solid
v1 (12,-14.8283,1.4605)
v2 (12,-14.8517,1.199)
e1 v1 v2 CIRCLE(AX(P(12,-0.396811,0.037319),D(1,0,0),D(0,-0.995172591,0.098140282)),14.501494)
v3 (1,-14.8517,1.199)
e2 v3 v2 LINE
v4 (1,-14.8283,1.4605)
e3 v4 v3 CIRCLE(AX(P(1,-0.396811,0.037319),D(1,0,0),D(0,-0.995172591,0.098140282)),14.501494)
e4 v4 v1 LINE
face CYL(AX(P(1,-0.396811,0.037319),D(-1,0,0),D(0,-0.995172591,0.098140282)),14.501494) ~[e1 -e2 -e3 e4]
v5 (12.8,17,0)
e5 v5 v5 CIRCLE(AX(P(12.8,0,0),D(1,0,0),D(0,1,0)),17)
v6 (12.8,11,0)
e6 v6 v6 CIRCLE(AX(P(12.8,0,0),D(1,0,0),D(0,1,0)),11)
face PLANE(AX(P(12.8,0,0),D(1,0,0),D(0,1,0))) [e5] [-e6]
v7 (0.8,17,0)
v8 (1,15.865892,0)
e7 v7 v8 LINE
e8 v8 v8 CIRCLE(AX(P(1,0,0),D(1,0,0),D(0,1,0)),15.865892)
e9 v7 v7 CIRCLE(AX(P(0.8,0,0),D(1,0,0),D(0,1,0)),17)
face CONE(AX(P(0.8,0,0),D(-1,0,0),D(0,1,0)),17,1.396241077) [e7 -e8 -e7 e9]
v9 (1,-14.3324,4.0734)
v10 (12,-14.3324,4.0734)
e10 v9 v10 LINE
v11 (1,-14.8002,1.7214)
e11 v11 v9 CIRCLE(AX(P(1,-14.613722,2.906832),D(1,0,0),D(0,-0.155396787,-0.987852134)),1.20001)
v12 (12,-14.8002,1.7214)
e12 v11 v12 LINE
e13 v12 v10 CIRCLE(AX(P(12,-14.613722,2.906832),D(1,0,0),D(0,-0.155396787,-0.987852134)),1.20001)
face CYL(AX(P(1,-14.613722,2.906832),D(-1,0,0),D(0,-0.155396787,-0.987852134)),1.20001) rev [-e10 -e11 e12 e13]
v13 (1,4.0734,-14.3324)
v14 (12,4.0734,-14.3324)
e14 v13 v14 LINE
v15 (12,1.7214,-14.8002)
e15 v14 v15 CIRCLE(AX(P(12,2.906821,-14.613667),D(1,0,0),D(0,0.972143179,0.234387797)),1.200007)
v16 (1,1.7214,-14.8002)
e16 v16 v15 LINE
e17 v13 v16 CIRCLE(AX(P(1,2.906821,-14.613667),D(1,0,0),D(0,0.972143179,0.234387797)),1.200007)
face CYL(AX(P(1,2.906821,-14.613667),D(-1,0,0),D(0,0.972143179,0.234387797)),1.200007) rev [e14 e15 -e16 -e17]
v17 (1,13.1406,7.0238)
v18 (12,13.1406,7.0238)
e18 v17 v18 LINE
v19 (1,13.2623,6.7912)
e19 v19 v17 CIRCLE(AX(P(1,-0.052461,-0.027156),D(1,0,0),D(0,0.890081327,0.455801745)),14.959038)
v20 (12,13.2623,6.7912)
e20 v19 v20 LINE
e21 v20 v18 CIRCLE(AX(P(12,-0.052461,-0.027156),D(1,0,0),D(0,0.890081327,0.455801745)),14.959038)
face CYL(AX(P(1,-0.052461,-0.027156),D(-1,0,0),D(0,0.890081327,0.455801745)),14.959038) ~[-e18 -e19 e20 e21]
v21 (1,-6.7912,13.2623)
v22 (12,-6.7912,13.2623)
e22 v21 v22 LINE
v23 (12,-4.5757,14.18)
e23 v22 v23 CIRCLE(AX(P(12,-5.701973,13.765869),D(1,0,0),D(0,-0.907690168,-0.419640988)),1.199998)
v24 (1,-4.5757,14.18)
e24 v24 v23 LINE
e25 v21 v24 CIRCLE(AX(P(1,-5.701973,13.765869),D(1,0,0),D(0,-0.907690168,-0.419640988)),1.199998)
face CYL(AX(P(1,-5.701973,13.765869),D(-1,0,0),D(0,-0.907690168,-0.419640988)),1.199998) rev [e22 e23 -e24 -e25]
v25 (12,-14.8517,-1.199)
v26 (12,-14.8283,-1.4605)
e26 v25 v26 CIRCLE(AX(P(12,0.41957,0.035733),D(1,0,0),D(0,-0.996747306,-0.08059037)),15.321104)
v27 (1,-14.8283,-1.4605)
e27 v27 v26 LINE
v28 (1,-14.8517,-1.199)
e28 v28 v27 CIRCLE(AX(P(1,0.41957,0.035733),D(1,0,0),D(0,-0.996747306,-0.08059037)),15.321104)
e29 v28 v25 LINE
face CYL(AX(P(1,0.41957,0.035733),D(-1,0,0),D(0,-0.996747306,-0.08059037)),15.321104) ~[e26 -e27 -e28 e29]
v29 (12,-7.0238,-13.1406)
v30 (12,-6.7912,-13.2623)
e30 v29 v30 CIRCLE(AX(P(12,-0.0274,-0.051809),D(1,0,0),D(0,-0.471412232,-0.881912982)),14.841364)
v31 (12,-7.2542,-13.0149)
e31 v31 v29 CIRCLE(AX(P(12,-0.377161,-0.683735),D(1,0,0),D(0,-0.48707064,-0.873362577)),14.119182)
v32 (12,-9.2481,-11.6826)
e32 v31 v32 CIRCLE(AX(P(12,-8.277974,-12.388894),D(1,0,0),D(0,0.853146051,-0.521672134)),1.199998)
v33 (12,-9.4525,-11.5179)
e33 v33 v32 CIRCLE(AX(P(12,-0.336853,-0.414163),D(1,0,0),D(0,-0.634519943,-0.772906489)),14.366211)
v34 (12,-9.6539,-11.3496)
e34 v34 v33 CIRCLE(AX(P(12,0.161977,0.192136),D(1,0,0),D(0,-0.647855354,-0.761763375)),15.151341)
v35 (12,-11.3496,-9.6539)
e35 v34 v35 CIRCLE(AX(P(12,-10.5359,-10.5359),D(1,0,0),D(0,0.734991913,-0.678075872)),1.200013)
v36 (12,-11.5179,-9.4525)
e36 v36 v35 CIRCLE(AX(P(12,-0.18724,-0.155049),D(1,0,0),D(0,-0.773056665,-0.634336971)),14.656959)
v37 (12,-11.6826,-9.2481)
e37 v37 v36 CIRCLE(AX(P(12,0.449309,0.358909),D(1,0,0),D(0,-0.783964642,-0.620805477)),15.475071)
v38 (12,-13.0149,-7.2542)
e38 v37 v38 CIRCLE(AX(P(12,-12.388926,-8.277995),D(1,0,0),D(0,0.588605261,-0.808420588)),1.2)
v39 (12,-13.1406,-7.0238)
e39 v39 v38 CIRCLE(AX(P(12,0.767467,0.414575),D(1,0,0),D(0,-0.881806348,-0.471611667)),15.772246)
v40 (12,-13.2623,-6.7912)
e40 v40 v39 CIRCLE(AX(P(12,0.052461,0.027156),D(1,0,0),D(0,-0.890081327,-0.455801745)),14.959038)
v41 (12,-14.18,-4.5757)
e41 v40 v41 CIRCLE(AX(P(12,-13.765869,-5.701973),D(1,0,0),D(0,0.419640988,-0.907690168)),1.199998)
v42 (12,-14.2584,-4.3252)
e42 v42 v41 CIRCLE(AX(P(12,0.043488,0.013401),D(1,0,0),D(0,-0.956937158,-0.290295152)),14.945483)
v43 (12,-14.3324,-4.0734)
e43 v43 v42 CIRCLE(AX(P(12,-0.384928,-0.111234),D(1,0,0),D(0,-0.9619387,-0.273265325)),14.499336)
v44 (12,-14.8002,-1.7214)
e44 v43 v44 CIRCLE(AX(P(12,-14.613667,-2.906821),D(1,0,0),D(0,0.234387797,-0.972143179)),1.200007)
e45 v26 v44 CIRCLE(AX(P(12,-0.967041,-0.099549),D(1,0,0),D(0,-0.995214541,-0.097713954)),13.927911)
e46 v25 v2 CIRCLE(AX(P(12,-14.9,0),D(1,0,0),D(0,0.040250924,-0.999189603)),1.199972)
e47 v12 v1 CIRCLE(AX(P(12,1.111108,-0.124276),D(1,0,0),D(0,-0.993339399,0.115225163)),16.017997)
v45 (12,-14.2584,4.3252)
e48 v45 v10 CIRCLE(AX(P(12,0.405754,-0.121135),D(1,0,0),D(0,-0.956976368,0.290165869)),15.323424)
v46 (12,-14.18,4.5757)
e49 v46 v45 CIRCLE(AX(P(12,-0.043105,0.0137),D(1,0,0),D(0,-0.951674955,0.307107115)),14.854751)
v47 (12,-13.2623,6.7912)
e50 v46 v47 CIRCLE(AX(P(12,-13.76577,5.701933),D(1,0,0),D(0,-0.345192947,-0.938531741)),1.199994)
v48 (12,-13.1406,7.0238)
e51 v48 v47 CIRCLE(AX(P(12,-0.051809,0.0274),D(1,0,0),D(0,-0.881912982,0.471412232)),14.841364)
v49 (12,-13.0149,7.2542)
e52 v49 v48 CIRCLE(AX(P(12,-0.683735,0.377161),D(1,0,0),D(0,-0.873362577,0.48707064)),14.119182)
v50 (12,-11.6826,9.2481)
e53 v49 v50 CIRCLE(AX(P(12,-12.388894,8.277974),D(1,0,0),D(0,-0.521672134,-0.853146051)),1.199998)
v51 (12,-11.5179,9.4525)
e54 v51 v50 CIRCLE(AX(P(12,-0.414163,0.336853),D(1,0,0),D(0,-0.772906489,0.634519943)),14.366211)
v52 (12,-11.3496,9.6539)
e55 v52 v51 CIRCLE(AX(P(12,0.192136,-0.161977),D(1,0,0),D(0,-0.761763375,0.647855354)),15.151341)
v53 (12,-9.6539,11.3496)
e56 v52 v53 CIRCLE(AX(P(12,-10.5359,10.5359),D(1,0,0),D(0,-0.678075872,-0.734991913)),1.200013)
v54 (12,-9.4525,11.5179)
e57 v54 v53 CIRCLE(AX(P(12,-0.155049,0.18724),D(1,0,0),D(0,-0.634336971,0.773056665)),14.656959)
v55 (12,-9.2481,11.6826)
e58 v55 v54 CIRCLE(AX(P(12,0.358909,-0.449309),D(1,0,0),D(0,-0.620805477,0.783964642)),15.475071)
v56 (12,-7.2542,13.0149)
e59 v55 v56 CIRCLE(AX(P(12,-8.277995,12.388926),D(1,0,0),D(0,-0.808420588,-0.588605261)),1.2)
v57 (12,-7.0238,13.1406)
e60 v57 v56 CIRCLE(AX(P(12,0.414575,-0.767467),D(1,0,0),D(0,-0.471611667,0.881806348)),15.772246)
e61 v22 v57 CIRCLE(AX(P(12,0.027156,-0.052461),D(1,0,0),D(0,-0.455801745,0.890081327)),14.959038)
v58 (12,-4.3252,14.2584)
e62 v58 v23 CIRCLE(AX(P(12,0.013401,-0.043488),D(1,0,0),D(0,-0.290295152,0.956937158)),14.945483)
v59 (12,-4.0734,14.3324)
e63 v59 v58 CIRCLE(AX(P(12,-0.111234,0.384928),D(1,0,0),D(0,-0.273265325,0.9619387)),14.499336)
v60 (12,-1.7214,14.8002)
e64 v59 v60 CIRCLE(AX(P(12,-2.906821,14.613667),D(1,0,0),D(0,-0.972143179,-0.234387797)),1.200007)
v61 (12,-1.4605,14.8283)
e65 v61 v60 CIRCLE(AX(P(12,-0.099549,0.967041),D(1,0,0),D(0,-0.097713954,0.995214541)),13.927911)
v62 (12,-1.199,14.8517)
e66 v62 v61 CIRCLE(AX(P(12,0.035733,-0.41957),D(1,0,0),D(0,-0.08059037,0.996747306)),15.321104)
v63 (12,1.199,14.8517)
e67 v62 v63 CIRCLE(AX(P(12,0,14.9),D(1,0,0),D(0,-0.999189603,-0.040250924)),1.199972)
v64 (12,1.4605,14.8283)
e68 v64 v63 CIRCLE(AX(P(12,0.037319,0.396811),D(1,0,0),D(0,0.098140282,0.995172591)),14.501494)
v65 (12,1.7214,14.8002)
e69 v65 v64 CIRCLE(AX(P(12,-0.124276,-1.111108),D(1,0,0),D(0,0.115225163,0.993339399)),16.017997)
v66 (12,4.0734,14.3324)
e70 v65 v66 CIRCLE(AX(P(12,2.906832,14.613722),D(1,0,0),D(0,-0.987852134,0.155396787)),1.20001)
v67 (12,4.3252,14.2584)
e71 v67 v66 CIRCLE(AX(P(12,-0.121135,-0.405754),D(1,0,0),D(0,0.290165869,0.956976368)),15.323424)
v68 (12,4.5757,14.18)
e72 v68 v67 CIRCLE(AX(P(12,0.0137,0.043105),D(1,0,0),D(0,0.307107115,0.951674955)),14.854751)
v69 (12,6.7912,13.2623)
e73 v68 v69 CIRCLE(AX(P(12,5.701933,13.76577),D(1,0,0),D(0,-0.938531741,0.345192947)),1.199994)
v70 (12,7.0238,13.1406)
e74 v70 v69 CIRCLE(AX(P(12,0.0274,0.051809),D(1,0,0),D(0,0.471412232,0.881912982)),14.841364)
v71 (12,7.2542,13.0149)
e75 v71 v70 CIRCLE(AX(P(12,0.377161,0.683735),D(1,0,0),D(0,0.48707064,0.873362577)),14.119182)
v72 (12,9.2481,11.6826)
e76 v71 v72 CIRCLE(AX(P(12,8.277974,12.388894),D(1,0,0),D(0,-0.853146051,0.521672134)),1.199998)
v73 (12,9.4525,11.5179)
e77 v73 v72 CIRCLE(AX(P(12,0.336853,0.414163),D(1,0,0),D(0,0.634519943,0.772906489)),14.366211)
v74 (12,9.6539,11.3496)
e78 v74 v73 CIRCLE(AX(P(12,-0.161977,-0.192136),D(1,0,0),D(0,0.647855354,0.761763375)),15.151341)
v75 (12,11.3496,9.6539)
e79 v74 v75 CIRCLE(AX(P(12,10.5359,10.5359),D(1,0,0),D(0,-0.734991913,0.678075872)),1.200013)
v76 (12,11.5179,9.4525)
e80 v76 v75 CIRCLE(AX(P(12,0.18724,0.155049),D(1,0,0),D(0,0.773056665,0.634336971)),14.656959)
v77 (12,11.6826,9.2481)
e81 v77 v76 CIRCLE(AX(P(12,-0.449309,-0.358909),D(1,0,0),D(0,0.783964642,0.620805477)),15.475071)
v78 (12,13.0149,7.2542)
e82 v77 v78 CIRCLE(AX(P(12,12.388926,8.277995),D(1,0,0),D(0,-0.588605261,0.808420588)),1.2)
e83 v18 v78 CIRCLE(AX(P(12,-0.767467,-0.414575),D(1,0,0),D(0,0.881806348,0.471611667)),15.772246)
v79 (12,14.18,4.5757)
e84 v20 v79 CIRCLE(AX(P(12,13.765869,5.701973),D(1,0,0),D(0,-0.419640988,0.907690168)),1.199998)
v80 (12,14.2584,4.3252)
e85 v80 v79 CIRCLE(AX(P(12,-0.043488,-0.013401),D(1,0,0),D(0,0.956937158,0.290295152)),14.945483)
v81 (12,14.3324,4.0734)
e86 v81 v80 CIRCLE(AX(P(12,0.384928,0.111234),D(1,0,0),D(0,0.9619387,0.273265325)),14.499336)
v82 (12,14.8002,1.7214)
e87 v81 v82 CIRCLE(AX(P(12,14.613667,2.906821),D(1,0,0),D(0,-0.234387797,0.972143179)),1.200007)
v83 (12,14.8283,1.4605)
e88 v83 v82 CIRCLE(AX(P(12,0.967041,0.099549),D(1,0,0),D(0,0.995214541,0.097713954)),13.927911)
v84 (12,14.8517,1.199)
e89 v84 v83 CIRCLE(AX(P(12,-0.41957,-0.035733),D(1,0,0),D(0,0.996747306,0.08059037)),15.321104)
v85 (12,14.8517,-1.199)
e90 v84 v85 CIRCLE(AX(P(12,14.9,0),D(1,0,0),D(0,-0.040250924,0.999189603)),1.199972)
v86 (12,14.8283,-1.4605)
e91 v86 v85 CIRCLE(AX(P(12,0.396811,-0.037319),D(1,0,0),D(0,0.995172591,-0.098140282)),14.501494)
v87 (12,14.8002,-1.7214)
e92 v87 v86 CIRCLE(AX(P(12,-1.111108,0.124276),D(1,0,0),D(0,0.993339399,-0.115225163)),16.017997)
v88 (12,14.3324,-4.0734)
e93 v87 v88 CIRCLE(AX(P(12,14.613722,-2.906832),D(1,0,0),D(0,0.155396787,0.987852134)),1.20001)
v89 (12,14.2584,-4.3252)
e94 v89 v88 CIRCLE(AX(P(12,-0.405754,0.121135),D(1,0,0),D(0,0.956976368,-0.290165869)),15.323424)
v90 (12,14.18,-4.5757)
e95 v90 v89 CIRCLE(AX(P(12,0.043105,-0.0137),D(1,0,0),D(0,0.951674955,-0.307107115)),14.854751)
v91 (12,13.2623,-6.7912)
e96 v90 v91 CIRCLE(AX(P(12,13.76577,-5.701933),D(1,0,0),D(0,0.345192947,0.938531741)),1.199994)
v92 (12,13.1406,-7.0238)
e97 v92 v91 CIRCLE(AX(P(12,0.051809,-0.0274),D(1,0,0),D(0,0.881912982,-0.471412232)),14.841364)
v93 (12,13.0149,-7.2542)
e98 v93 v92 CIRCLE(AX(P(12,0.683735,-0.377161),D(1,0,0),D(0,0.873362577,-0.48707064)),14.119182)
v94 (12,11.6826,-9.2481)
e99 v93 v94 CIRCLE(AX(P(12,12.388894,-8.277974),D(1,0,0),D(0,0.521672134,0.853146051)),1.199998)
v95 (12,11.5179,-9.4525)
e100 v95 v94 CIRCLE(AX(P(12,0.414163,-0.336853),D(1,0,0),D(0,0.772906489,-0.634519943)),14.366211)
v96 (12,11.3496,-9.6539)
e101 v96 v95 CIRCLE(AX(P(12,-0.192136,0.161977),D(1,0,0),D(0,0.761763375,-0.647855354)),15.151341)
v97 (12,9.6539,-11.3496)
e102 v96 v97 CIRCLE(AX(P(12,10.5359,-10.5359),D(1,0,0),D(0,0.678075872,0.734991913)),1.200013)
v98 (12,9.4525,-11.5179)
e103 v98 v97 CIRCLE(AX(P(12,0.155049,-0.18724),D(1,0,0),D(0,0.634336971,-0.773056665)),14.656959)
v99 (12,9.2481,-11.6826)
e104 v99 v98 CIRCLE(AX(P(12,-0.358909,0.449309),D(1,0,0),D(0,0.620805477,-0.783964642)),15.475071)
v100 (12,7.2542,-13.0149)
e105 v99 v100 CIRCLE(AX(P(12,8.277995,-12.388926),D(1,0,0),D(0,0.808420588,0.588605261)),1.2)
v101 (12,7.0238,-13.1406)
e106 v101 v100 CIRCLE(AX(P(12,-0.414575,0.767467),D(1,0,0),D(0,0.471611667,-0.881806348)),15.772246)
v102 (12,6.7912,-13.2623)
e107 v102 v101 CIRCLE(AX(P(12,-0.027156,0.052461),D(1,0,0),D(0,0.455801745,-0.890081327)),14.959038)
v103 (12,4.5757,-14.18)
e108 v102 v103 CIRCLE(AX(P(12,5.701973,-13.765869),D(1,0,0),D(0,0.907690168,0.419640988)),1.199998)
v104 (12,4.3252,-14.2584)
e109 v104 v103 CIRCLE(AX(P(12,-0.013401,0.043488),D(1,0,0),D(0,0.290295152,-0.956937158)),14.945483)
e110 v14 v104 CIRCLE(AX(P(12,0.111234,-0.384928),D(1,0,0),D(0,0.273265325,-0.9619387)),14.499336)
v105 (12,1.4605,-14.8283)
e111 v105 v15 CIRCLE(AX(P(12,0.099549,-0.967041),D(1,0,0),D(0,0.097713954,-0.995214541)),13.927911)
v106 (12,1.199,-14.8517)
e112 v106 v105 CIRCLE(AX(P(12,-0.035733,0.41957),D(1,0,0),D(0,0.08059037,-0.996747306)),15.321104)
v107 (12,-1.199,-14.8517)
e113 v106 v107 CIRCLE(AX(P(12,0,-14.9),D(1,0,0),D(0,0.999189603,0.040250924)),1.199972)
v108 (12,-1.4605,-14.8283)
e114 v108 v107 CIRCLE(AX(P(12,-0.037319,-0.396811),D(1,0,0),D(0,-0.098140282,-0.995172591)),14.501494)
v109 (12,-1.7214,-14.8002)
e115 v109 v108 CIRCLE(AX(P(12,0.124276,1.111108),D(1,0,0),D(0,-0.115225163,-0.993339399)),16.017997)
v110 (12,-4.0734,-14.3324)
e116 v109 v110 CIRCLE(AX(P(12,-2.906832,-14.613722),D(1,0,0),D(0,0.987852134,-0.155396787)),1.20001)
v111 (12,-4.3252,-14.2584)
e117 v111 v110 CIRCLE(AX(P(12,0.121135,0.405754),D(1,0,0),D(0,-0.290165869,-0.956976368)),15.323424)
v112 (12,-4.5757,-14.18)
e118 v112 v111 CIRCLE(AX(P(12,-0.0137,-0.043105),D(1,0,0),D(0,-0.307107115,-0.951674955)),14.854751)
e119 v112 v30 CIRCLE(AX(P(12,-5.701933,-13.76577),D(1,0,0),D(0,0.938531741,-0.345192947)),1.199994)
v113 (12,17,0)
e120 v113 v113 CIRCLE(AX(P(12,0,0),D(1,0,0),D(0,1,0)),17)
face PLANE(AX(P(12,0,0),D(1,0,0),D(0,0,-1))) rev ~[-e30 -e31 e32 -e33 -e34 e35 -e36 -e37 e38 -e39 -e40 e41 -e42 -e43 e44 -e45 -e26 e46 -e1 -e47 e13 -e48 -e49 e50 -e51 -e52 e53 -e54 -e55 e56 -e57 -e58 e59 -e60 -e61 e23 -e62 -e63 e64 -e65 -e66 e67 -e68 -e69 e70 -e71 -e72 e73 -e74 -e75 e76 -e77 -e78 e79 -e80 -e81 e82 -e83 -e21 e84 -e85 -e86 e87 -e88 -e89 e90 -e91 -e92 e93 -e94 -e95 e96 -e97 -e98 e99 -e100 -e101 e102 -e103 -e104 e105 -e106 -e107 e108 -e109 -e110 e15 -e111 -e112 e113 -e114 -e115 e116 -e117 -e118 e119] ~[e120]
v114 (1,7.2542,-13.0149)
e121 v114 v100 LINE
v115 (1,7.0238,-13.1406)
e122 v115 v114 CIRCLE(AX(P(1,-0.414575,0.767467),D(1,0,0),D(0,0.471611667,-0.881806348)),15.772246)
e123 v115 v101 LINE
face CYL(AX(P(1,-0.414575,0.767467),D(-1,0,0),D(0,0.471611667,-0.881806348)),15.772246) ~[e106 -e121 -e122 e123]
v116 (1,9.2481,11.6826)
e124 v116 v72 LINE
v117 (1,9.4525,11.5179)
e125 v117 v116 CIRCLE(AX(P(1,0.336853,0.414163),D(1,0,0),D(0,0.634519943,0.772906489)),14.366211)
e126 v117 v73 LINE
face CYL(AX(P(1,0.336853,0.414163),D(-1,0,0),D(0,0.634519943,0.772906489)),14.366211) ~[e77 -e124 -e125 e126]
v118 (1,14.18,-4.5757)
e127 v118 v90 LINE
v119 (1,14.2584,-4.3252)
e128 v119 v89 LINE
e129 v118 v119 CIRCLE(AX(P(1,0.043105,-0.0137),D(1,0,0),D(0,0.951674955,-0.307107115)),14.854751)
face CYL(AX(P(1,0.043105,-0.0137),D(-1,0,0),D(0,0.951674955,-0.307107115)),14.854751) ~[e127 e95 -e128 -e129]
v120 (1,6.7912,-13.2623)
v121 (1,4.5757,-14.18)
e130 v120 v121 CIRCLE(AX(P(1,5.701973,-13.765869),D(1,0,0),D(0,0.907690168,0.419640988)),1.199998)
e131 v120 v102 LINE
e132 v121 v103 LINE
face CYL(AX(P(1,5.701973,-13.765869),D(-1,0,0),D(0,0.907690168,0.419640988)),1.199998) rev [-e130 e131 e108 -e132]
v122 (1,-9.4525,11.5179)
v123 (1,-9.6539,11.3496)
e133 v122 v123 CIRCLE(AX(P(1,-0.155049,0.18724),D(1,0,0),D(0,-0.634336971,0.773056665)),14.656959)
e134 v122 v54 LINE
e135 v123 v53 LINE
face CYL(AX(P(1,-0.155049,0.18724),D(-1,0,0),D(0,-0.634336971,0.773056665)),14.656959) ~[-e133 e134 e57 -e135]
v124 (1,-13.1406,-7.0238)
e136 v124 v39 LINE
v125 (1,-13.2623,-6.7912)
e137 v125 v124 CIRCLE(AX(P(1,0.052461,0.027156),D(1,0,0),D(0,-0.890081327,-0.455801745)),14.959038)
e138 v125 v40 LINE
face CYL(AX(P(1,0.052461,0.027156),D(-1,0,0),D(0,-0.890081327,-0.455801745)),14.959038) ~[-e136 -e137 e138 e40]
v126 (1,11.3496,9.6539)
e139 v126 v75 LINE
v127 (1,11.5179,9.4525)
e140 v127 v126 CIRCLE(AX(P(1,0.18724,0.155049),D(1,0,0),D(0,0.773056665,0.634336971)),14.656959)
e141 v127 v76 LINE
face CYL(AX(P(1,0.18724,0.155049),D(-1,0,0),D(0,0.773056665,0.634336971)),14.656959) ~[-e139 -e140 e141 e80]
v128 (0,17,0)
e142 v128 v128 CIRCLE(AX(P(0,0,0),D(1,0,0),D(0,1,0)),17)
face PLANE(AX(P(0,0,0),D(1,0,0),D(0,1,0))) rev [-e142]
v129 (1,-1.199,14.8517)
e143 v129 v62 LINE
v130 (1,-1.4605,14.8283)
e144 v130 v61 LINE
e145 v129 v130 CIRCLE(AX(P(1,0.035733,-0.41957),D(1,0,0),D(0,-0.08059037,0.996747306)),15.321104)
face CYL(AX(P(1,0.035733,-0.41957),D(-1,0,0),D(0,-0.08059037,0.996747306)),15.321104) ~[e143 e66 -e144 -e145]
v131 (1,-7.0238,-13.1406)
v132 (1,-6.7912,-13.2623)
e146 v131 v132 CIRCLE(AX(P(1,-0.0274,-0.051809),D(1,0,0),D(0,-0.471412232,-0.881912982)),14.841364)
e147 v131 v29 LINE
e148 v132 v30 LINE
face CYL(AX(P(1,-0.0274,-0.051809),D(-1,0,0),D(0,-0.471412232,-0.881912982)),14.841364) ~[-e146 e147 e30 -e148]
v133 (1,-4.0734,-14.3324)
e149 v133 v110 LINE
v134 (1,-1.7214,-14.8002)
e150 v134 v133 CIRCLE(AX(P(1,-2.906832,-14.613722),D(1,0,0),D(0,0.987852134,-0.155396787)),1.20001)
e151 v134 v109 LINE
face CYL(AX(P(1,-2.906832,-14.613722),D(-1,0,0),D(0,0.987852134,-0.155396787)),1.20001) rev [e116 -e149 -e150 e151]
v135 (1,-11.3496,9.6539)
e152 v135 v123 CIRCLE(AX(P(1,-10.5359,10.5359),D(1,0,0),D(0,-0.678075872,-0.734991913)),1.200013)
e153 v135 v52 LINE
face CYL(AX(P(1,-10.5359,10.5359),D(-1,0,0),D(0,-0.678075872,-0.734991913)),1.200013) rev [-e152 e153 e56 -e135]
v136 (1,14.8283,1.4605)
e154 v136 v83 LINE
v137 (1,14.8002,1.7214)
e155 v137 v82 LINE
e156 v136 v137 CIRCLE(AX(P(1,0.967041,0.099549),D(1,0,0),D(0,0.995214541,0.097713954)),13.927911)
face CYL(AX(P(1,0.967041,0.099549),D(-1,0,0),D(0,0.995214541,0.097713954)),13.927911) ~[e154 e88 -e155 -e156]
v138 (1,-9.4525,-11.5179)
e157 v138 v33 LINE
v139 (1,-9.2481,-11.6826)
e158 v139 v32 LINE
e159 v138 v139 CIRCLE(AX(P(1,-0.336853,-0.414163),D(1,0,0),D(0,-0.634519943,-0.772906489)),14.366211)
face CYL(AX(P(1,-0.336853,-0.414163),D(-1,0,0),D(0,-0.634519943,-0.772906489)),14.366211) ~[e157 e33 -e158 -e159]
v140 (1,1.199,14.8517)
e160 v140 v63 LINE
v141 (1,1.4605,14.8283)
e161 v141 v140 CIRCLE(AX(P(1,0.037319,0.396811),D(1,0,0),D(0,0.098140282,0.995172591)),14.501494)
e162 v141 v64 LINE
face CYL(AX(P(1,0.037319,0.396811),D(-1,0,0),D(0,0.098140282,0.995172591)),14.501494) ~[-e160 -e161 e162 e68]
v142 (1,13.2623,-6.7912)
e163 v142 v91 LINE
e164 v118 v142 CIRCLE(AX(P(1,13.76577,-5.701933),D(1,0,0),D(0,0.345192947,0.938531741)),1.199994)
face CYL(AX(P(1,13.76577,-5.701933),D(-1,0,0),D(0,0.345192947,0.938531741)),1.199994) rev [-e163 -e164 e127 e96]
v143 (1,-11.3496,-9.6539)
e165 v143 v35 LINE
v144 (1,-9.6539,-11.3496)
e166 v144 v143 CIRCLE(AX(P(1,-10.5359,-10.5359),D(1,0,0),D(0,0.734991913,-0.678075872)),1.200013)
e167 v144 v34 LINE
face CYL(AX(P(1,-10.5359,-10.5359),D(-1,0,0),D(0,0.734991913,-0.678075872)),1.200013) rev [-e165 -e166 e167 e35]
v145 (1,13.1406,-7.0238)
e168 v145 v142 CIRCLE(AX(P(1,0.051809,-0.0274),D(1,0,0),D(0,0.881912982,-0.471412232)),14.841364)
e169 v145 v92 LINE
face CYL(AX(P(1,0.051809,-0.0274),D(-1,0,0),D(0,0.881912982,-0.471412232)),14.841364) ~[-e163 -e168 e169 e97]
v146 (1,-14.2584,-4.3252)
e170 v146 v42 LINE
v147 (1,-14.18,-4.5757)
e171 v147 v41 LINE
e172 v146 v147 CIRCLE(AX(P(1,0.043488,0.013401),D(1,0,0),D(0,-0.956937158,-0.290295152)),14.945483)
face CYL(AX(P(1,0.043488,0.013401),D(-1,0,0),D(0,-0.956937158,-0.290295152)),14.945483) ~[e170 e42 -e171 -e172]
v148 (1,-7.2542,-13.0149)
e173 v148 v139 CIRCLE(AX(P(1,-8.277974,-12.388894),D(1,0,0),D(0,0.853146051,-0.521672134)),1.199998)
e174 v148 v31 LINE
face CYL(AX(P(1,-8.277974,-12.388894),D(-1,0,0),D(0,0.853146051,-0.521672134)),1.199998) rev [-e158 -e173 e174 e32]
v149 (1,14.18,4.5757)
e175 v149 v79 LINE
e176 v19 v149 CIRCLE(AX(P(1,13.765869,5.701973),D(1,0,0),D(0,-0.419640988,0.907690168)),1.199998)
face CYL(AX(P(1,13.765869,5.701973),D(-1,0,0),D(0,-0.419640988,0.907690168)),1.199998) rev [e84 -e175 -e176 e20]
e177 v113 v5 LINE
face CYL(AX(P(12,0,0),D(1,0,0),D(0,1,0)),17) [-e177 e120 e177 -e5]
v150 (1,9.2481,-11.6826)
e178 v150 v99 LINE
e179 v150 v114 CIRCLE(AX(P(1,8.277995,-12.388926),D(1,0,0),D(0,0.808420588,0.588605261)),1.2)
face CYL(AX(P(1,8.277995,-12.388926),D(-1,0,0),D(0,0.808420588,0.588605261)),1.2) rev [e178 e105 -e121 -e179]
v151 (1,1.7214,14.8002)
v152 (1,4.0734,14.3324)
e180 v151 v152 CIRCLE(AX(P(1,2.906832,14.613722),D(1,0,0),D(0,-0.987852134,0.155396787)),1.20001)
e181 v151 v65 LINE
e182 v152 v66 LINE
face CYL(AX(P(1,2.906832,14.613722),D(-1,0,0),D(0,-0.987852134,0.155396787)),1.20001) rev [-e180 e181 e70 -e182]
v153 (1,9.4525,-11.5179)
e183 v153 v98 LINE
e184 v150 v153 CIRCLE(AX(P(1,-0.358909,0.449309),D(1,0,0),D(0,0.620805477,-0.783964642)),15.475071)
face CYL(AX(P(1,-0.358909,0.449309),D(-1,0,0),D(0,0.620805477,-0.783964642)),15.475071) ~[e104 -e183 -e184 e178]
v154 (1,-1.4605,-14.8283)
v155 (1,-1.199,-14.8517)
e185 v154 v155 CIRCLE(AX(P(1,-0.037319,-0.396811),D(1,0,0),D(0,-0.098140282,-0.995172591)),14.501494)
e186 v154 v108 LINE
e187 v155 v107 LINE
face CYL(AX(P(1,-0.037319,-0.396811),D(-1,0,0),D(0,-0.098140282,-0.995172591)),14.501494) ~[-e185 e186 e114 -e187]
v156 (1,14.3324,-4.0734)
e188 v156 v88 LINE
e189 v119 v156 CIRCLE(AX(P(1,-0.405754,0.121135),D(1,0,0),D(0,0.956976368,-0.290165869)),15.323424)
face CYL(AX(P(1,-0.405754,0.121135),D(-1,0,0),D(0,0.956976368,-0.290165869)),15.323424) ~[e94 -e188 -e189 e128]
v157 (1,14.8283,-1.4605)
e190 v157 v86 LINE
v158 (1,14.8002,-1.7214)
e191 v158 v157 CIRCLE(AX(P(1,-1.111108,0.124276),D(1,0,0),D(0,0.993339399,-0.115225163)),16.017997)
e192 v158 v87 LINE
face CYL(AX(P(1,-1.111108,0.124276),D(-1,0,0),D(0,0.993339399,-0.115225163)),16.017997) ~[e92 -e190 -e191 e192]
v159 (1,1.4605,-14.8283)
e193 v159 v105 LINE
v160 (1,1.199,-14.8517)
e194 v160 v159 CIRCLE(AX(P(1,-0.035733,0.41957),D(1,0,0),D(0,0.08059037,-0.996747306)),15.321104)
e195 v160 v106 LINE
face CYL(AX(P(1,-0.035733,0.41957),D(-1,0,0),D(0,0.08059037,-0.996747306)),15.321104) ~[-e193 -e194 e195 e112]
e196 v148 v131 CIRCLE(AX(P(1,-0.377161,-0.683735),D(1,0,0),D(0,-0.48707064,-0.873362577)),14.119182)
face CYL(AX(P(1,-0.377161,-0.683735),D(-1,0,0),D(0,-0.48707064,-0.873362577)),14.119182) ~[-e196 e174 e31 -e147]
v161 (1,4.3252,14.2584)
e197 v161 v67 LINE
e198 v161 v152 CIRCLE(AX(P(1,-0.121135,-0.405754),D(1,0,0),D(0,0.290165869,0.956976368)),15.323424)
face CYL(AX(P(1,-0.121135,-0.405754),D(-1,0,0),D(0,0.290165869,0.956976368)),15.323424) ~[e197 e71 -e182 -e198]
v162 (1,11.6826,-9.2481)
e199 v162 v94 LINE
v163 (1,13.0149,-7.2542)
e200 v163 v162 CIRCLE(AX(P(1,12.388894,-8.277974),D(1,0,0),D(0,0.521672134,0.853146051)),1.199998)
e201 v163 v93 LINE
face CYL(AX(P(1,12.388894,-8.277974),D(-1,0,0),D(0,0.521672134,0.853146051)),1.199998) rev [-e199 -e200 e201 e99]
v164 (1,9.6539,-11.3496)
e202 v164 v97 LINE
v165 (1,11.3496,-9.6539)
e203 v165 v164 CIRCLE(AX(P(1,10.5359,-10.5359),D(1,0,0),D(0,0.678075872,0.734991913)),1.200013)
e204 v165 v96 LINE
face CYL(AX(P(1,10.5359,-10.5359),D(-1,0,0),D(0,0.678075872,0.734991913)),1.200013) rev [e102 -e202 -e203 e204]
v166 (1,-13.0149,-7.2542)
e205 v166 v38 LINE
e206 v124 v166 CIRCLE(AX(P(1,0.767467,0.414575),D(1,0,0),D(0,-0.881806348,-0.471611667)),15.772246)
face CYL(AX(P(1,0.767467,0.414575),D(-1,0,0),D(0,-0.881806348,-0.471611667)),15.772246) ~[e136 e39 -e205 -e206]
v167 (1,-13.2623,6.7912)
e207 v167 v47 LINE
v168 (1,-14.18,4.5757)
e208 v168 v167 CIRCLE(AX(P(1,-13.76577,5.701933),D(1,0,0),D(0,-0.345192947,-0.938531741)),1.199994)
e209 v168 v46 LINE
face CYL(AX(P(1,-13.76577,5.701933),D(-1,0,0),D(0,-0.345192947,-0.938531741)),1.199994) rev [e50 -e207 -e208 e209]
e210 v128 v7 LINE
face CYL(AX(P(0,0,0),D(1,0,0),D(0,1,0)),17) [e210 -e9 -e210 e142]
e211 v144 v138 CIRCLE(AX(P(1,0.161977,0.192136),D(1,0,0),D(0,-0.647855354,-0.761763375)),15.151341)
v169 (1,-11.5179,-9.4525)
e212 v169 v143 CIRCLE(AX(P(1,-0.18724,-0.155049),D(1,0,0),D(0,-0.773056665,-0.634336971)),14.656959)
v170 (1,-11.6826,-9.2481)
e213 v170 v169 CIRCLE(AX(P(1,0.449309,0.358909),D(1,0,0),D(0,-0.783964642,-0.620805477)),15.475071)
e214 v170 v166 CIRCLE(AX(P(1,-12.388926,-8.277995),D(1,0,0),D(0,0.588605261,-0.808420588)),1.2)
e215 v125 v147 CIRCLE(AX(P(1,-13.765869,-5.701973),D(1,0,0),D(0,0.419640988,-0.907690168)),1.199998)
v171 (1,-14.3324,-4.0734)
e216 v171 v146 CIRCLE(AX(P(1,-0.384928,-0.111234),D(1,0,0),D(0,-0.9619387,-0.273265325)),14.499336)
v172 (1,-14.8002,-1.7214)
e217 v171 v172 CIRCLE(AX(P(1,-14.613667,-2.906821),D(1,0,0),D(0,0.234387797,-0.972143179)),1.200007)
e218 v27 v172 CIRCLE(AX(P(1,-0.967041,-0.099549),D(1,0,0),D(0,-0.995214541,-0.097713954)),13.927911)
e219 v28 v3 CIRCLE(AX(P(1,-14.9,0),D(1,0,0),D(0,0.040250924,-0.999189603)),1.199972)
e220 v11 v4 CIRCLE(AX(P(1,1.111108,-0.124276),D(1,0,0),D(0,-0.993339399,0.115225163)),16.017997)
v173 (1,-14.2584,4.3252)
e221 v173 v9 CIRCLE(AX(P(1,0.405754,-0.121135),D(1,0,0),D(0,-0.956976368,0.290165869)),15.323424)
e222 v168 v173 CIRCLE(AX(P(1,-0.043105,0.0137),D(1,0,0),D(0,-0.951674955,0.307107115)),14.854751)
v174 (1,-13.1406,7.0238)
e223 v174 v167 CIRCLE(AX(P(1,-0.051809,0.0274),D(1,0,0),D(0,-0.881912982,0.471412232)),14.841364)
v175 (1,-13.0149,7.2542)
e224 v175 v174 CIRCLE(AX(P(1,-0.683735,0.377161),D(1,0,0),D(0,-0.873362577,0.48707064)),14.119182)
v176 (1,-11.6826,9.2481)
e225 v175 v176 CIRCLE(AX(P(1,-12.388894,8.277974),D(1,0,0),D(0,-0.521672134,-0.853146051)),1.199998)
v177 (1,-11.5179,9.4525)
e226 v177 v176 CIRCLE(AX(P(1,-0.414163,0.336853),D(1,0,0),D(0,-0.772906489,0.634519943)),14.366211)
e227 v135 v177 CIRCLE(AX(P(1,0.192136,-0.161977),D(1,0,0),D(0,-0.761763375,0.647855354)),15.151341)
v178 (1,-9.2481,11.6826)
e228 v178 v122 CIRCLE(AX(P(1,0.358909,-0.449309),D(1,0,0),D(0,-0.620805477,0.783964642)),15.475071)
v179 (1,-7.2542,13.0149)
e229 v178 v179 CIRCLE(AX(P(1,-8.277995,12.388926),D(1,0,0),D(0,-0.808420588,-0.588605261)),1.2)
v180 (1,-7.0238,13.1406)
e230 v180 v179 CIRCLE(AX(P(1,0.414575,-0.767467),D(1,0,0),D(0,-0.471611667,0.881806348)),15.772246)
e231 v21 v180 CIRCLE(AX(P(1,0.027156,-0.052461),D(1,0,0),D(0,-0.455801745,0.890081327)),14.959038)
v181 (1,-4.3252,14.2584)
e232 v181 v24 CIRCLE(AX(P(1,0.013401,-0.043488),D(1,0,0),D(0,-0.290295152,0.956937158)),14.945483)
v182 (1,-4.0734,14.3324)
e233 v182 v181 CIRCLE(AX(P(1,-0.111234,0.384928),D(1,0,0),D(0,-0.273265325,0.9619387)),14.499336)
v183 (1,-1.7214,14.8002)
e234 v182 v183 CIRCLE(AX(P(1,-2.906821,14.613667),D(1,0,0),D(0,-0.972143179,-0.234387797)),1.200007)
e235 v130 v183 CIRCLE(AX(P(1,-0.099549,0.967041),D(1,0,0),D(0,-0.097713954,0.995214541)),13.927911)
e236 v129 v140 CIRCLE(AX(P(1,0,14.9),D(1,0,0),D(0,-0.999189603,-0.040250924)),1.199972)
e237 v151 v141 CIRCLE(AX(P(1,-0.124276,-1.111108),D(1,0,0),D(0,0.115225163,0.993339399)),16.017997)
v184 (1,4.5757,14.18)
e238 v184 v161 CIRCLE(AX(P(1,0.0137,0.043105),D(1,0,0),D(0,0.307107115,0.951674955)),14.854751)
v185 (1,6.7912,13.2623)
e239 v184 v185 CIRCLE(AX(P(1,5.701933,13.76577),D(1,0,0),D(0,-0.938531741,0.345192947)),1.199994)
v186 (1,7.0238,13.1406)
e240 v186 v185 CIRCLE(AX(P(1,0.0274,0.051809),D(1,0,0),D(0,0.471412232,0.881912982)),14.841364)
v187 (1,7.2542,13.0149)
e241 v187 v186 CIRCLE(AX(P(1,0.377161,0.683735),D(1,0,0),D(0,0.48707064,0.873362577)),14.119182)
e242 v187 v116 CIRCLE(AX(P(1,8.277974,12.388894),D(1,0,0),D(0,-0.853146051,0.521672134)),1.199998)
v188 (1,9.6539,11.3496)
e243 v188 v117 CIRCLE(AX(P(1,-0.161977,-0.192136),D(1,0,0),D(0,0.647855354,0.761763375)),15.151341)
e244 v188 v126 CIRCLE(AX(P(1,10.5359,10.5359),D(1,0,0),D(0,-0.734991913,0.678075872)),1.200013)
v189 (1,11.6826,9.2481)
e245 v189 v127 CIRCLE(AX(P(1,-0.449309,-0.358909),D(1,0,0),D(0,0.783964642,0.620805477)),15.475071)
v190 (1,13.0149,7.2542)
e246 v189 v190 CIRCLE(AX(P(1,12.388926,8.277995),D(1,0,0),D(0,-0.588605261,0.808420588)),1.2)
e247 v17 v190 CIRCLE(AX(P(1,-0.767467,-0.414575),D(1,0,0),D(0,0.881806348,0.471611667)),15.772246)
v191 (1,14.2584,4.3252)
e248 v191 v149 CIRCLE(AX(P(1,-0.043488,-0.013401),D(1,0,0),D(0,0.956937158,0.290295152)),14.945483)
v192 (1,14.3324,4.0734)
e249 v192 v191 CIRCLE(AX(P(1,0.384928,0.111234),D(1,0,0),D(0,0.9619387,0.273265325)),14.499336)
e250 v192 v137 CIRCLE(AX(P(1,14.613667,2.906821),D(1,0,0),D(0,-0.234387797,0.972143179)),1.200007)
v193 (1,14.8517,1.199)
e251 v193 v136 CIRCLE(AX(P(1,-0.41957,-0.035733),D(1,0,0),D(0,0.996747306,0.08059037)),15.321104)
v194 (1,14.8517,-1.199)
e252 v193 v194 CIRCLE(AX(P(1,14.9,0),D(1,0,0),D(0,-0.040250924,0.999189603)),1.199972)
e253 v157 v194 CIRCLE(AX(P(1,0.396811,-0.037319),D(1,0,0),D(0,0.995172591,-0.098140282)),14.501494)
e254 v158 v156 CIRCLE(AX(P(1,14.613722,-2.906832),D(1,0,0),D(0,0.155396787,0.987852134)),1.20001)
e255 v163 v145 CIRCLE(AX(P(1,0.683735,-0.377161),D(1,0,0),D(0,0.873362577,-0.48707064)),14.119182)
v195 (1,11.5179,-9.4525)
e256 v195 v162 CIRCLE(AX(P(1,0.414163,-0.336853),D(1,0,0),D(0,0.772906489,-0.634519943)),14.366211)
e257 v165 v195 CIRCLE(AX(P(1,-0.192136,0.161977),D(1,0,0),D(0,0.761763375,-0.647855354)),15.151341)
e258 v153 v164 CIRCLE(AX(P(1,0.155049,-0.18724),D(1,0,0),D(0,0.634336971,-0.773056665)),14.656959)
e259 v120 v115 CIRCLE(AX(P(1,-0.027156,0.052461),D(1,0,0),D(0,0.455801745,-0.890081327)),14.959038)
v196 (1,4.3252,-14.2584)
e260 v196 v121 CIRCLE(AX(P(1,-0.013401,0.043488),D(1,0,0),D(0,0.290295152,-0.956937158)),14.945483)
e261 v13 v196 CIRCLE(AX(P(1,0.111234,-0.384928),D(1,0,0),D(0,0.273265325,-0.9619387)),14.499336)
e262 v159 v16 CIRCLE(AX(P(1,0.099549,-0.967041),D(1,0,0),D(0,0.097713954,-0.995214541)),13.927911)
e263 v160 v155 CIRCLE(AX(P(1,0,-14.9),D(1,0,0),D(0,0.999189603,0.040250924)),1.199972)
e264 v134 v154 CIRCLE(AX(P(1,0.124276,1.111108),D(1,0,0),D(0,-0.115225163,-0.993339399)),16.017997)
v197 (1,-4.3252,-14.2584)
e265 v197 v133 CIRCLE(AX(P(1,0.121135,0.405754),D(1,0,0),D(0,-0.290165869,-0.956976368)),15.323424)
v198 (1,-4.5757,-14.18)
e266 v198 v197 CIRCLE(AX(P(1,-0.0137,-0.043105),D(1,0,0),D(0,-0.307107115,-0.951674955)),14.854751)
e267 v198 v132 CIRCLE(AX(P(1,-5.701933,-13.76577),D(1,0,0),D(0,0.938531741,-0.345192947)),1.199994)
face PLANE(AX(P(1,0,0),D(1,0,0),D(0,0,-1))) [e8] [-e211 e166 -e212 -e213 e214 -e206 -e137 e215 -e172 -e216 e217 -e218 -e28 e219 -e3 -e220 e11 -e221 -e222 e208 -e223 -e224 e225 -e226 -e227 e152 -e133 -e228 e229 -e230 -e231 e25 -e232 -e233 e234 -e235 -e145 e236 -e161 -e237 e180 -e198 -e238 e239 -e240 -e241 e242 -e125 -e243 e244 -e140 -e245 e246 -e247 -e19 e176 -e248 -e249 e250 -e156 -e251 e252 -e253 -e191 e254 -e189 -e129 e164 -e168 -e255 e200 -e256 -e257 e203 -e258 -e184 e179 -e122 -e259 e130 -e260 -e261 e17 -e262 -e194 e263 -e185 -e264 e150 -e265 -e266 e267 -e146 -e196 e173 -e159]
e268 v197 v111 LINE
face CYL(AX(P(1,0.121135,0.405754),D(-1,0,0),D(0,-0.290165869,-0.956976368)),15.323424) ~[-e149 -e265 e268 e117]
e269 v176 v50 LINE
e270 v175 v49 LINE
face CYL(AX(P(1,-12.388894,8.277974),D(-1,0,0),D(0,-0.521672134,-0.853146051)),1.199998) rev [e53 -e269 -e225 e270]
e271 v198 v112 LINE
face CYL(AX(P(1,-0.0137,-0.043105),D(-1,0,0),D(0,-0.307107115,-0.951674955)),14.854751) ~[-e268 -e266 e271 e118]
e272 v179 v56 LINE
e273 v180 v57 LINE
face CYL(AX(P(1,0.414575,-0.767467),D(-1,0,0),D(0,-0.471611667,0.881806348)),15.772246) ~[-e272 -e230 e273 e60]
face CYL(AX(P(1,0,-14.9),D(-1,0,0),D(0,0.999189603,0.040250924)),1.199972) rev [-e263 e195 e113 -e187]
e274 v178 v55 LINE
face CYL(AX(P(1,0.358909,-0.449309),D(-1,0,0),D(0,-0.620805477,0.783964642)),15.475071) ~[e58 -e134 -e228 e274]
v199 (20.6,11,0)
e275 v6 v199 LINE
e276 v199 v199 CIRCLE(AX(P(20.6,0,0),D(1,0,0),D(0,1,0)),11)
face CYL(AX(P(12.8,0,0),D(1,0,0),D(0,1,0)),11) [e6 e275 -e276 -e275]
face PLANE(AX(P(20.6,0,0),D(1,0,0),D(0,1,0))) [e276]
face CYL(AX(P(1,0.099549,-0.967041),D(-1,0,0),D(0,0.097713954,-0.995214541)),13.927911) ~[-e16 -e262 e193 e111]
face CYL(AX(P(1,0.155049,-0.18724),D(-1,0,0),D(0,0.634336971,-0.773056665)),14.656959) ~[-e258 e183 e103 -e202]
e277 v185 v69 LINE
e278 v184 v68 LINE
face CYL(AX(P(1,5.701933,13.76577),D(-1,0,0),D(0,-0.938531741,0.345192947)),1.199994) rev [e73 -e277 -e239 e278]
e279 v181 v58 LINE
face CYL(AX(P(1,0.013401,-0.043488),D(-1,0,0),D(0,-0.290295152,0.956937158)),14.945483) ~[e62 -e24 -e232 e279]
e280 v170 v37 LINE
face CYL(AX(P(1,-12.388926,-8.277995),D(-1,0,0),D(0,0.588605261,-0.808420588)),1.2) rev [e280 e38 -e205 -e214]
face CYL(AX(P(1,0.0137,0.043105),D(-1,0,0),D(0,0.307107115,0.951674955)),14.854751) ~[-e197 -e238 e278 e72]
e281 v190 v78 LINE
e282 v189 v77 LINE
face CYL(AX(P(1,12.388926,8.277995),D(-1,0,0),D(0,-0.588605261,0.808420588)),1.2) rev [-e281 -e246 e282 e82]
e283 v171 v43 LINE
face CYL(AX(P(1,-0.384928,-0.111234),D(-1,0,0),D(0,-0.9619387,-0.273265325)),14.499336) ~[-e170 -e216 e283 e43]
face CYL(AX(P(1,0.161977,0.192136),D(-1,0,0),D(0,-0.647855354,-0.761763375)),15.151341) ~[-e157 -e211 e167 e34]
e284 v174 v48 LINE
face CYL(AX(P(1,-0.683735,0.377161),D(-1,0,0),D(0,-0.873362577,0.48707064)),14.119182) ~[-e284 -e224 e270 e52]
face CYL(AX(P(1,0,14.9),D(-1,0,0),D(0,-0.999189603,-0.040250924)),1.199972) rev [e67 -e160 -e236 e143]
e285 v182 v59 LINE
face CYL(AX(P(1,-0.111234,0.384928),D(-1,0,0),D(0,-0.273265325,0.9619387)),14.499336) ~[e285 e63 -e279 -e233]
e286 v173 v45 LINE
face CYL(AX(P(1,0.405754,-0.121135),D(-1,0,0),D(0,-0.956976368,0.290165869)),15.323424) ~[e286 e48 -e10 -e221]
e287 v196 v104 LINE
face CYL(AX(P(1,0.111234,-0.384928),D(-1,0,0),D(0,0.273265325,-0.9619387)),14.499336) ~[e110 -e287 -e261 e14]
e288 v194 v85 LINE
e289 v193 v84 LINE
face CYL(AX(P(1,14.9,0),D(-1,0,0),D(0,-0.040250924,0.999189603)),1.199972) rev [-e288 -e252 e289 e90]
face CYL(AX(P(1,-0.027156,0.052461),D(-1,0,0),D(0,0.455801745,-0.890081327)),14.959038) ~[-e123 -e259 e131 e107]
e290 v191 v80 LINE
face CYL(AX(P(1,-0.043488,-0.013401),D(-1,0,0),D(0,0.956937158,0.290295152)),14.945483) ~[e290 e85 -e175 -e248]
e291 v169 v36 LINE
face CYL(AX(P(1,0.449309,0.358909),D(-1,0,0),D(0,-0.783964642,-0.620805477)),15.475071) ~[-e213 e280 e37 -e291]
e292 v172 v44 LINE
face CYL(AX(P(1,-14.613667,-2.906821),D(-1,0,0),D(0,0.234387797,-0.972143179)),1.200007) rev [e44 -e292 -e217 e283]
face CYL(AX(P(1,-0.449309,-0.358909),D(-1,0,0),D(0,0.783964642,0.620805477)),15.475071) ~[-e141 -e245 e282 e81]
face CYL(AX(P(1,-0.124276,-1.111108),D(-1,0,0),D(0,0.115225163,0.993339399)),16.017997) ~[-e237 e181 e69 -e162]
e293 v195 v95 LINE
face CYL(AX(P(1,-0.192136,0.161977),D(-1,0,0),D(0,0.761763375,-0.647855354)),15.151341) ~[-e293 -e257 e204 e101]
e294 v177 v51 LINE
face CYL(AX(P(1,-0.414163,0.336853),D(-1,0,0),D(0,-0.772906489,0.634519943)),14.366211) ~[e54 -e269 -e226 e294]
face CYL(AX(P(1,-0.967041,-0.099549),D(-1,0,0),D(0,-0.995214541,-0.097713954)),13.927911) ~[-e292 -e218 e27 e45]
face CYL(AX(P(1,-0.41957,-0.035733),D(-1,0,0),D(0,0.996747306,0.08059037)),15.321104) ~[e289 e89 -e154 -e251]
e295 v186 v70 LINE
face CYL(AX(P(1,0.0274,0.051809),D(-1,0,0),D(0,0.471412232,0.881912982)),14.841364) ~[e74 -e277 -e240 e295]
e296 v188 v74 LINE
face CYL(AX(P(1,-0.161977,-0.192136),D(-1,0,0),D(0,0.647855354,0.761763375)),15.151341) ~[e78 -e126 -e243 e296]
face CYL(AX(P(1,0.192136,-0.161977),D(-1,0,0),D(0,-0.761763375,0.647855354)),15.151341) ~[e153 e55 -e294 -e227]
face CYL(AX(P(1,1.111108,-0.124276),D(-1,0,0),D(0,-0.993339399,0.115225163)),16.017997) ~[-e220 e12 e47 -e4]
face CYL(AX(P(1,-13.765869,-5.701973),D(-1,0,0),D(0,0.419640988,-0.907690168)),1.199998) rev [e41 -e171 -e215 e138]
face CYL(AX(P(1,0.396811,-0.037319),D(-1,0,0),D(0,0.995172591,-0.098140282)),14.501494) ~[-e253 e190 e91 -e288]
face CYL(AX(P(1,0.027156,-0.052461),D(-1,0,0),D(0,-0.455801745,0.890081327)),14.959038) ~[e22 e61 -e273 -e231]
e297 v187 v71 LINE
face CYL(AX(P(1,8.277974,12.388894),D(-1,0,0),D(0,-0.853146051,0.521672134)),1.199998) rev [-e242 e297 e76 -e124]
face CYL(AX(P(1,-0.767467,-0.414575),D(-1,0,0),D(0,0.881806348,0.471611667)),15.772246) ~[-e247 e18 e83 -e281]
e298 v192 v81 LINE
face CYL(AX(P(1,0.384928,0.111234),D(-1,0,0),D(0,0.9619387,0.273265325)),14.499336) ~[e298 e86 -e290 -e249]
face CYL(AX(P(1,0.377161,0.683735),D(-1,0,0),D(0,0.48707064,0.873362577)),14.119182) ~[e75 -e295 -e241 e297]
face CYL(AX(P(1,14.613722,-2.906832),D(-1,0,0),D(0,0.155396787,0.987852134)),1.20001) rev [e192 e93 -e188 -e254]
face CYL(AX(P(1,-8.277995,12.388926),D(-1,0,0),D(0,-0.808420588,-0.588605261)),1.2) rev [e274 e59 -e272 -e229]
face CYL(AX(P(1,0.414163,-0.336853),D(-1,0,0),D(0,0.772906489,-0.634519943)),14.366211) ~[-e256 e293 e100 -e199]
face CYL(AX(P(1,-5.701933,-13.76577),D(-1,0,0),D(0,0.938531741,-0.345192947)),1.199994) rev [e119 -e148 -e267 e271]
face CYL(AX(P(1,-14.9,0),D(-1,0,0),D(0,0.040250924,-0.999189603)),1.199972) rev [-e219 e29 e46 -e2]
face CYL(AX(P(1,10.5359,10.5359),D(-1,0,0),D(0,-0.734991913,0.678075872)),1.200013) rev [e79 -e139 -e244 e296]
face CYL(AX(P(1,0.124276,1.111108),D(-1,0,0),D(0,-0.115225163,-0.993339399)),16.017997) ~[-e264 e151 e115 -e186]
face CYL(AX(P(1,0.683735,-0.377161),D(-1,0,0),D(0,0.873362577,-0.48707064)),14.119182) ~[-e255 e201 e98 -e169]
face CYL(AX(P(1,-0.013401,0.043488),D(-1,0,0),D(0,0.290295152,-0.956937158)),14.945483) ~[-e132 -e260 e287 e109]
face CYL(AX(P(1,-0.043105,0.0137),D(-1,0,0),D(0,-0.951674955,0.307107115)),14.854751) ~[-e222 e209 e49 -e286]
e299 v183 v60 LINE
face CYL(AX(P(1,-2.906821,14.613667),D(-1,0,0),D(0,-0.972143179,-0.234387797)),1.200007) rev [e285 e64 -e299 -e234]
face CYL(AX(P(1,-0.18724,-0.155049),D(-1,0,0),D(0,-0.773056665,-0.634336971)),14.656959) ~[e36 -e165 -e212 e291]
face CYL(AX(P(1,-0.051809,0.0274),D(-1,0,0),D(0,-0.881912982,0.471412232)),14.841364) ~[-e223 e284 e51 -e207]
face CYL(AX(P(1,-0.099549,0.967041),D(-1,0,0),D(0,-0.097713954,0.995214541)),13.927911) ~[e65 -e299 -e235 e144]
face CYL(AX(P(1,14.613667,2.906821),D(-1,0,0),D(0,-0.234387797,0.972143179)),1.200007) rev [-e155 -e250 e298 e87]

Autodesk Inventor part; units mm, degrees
ref_plane "YZ Plane" through (0, 0, 0) normal (1, 0, 0) x (0, 1, 0)
ref_plane "XZ Plane" through (0, 0, 0) normal (0, 1, 0) x (-1, 0, 0)
ref_plane "XY Plane" through (0, 0, 0) normal (0, 0, 1) x (1, 0, 0)
sketch "Sketch_3" plane through (0, 0, 0) normal (0, 0, 1) x (1, 0, 0)
  line L0 (20.6, 0) -> (0, 0)
  line L1 (0, 0) -> (0, 17)
  line L2 (0, 17) -> (0.8, 17)
  line L3 (0.8, 17) -> (1.1527, 15)
  line L4 (1.1527, 15) -> (11.6473, 15)
  line L5 (11.6473, 15) -> (12, 17)
  line L6 (12, 17) -> (12.8, 17)
  line L7 (12.8, 17) -> (12.8, 11)
  line L8 (20.6, 0) -> (0, 0)
  line L9 (0, 20.4) -> (0, -3.4) construction
  line L10 (-4.12, 0) -> (24.72, 0) construction
  line L11 (6.4, 15) -> (6.4, 0) construction
  line L12 (12.8, 11) -> (20.6, 11)
  line L13 (20.6, 11) -> (20.6, 0)
  dimension "d5" = 15
  dimension "d6" = 0.8
  dimension "d7" = 2
  dimension "d9" = 100
  dimension "d15" = 12.8
  dimension "d16" = 20.6
  dimension "d17" = 11
revolve "Revolution1" add sketch "Sketch_3" angle 360 about axis through (20.6, 0, 0) along (1, 0, 0)
sketch "Sketch_4" plane through (1, 0, 0) normal (1, 0, 0) x (0, 0, -1)
  circle A0 centre (0, 0) radius 300
  circle A1 centre (0, 0) radius 206
  arc A2 (-14.8517, -1.199) -> (-14.8283, -1.4605) centre (0, 0) ccw
  arc A3 (-14.8283, -1.4605) -> (-14.8002, -1.7214) centre (0, 0) ccw
  arc A4 (-14.3324, -4.0734) -> (-14.8002, -1.7214) centre (-14.6137, -2.9068) ccw
  arc A5 (-14.3324, -4.0734) -> (-14.2584, -4.3252) centre (0, 0) ccw
  arc A6 (-14.2584, -4.3252) -> (-14.18, -4.5757) centre (0, 0) ccw
  arc A7 (-13.2623, -6.7912) -> (-14.18, -4.5757) centre (-13.7658, -5.702) ccw
  arc A8 (-13.2623, -6.7912) -> (-13.1406, -7.0238) centre (0, 0) ccw
  arc A9 (-13.1406, -7.0238) -> (-13.0149, -7.2542) centre (0, 0) ccw
  arc A10 (-11.6826, -9.2481) -> (-13.0149, -7.2542) centre (-12.3889, -8.278) ccw
  arc A11 (-11.6826, -9.2481) -> (-11.5179, -9.4525) centre (0, 0) ccw
  arc A12 (-11.5179, -9.4525) -> (-11.3496, -9.6539) centre (0, 0) ccw
  arc A13 (-9.6539, -11.3496) -> (-11.3496, -9.6539) centre (-10.5359, -10.5359) ccw
  arc A14 (-9.6539, -11.3496) -> (-9.4525, -11.5179) centre (0, 0) ccw
  arc A15 (-9.4525, -11.5179) -> (-9.2481, -11.6826) centre (0, 0) ccw
  arc A16 (-7.2542, -13.0149) -> (-9.2481, -11.6826) centre (-8.278, -12.3889) ccw
  arc A17 (-7.2542, -13.0149) -> (-7.0238, -13.1406) centre (0, 0) ccw
  arc A18 (-7.0238, -13.1406) -> (-6.7912, -13.2623) centre (0, 0) ccw
  arc A19 (-4.5757, -14.18) -> (-6.7912, -13.2623) centre (-5.702, -13.7658) ccw
  arc A20 (-4.5757, -14.18) -> (-4.3252, -14.2584) centre (0, 0) ccw
  arc A21 (-4.3252, -14.2584) -> (-4.0734, -14.3324) centre (0, 0) ccw
  arc A22 (-1.7214, -14.8002) -> (-4.0734, -14.3324) centre (-2.9068, -14.6137) ccw
  arc A23 (-1.7214, -14.8002) -> (-1.4605, -14.8283) centre (0, 0) ccw
  arc A24 (-1.4605, -14.8283) -> (-1.199, -14.8517) centre (0, 0) ccw
  arc A25 (1.199, -14.8517) -> (-1.199, -14.8517) centre (0, -14.9) ccw
  arc A26 (1.199, -14.8517) -> (1.4605, -14.8283) centre (0, 0) ccw
  arc A27 (1.4605, -14.8283) -> (1.7214, -14.8002) centre (0, 0) ccw
  arc A28 (4.0734, -14.3324) -> (1.7214, -14.8002) centre (2.9068, -14.6137) ccw
  arc A29 (4.0734, -14.3324) -> (4.3252, -14.2584) centre (0, 0) ccw
  arc A30 (4.3252, -14.2584) -> (4.5757, -14.18) centre (0, 0) ccw
  arc A31 (6.7912, -13.2623) -> (4.5757, -14.18) centre (5.702, -13.7658) ccw
  arc A32 (6.7912, -13.2623) -> (7.0238, -13.1406) centre (0, 0) ccw
  arc A33 (7.0238, -13.1406) -> (7.2542, -13.0149) centre (0, 0) ccw
  arc A34 (9.2481, -11.6826) -> (7.2542, -13.0149) centre (8.278, -12.3889) ccw
  arc A35 (9.2481, -11.6826) -> (9.4525, -11.5179) centre (0, 0) ccw
  arc A36 (9.4525, -11.5179) -> (9.6539, -11.3496) centre (0, 0) ccw
  arc A37 (11.3496, -9.6539) -> (9.6539, -11.3496) centre (10.5359, -10.5359) ccw
  arc A38 (11.3496, -9.6539) -> (11.5179, -9.4525) centre (0, 0) ccw
  arc A39 (11.5179, -9.4525) -> (11.6826, -9.2481) centre (0, 0) ccw
  arc A40 (13.0149, -7.2542) -> (11.6826, -9.2481) centre (12.3889, -8.278) ccw
  arc A41 (13.0149, -7.2542) -> (13.1406, -7.0238) centre (0, 0) ccw
  arc A42 (13.1406, -7.0238) -> (13.2623, -6.7912) centre (0, 0) ccw
  arc A43 (14.18, -4.5757) -> (13.2623, -6.7912) centre (13.7658, -5.702) ccw
  arc A44 (14.18, -4.5757) -> (14.2584, -4.3252) centre (0, 0) ccw
  arc A45 (14.2584, -4.3252) -> (14.3324, -4.0734) centre (0, 0) ccw
  arc A46 (14.8002, -1.7214) -> (14.3324, -4.0734) centre (14.6137, -2.9068) ccw
  arc A47 (14.8002, -1.7214) -> (14.8283, -1.4605) centre (0, 0) ccw
  arc A48 (14.8283, -1.4605) -> (14.8517, -1.199) centre (0, 0) ccw
  arc A49 (14.8517, 1.199) -> (14.8517, -1.199) centre (14.9, 0) ccw
  arc A50 (14.8517, 1.199) -> (14.8283, 1.4605) centre (0, 0) ccw
  arc A51 (14.8283, 1.4605) -> (14.8002, 1.7214) centre (0, 0) ccw
  arc A52 (14.3324, 4.0734) -> (14.8002, 1.7214) centre (14.6137, 2.9068) ccw
  arc A53 (14.3324, 4.0734) -> (14.2584, 4.3252) centre (0, 0) ccw
  arc A54 (14.2584, 4.3252) -> (14.18, 4.5757) centre (0, 0) ccw
  arc A55 (13.2623, 6.7912) -> (14.18, 4.5757) centre (13.7658, 5.702) ccw
  arc A56 (13.2623, 6.7912) -> (13.1406, 7.0238) centre (0, 0) ccw
  arc A57 (13.1406, 7.0238) -> (13.0149, 7.2542) centre (0, 0) ccw
  arc A58 (11.6826, 9.2481) -> (13.0149, 7.2542) centre (12.3889, 8.278) ccw
  arc A59 (11.6826, 9.2481) -> (11.5179, 9.4525) centre (0, 0) ccw
  arc A60 (11.5179, 9.4525) -> (11.3496, 9.6539) centre (0, 0) ccw
  arc A61 (9.6539, 11.3496) -> (11.3496, 9.6539) centre (10.5359, 10.5359) ccw
  arc A62 (9.6539, 11.3496) -> (9.4525, 11.5179) centre (0, 0) ccw
  arc A63 (9.4525, 11.5179) -> (9.2481, 11.6826) centre (0, 0) ccw
  arc A64 (7.2542, 13.0149) -> (9.2481, 11.6826) centre (8.278, 12.3889) ccw
  arc A65 (7.2542, 13.0149) -> (7.0238, 13.1406) centre (0, 0) ccw
  arc A66 (7.0238, 13.1406) -> (6.7912, 13.2623) centre (0, 0) ccw
  arc A67 (4.5757, 14.18) -> (6.7912, 13.2623) centre (5.702, 13.7658) ccw
  arc A68 (4.5757, 14.18) -> (4.3252, 14.2584) centre (0, 0) ccw
  arc A69 (4.3252, 14.2584) -> (4.0734, 14.3324) centre (0, 0) ccw
  arc A70 (1.7214, 14.8002) -> (4.0734, 14.3324) centre (2.9068, 14.6137) ccw
  arc A71 (1.7214, 14.8002) -> (1.4605, 14.8283) centre (0, 0) ccw
  arc A72 (1.4605, 14.8283) -> (1.199, 14.8517) centre (0, 0) ccw
  arc A73 (-1.199, 14.8517) -> (1.199, 14.8517) centre (0, 14.9) ccw
  arc A74 (-1.199, 14.8517) -> (-1.4605, 14.8283) centre (0, 0) ccw
  arc A75 (-1.4605, 14.8283) -> (-1.7214, 14.8002) centre (0, 0) ccw
  arc A76 (-4.0734, 14.3324) -> (-1.7214, 14.8002) centre (-2.9068, 14.6137) ccw
  arc A77 (-4.0734, 14.3324) -> (-4.3252, 14.2584) centre (0, 0) ccw
  arc A78 (-4.3252, 14.2584) -> (-4.5757, 14.18) centre (0, 0) ccw
  arc A79 (-6.7912, 13.2623) -> (-4.5757, 14.18) centre (-5.702, 13.7658) ccw
  arc A80 (-6.7912, 13.2623) -> (-7.0238, 13.1406) centre (0, 0) ccw
  arc A81 (-7.0238, 13.1406) -> (-7.2542, 13.0149) centre (0, 0) ccw
  arc A82 (-9.2481, 11.6826) -> (-7.2542, 13.0149) centre (-8.278, 12.3889) ccw
  arc A83 (-9.2481, 11.6826) -> (-9.4525, 11.5179) centre (0, 0) ccw
  arc A84 (-9.4525, 11.5179) -> (-9.6539, 11.3496) centre (0, 0) ccw
  arc A85 (-11.3496, 9.6539) -> (-9.6539, 11.3496) centre (-10.5359, 10.5359) ccw
  arc A86 (-11.3496, 9.6539) -> (-11.5179, 9.4525) centre (0, 0) ccw
  arc A87 (-11.5179, 9.4525) -> (-11.6826, 9.2481) centre (0, 0) ccw
  arc A88 (-13.0149, 7.2542) -> (-11.6826, 9.2481) centre (-12.3889, 8.278) ccw
  arc A89 (-13.0149, 7.2542) -> (-13.1406, 7.0238) centre (0, 0) ccw
  arc A90 (-13.1406, 7.0238) -> (-13.2623, 6.7912) centre (0, 0) ccw
  arc A91 (-14.18, 4.5757) -> (-13.2623, 6.7912) centre (-13.7658, 5.702) ccw
  arc A92 (-14.18, 4.5757) -> (-14.2584, 4.3252) centre (0, 0) ccw
  arc A93 (-14.2584, 4.3252) -> (-14.3324, 4.0734) centre (0, 0) ccw
  arc A94 (-14.8002, 1.7214) -> (-14.3324, 4.0734) centre (-14.6137, 2.9068) ccw
  arc A95 (-14.8002, 1.7214) -> (-14.8283, 1.4605) centre (0, 0) ccw
  arc A96 (-14.8283, 1.4605) -> (-14.8517, 1.199) centre (0, 0) ccw
  arc A97 (-14.8517, -1.199) -> (-14.8517, 1.199) centre (-14.9, 0) ccw
  line L0 (0.2687, 0) -> (-14.9, 0) construction
  line L1 (0, 0) -> (-14.6137, 2.9068) construction
  dimension "d11" = 11.25
extrude "Extrusion1" cut sketch "Sketch_4" along normal blind 11 contours A1
sketch "Sketch_9_ALT_Drilling_1" plane through (0, 0, 0) normal (1, 0, 0) x (0, 1, 0)
  circle A0 centre (0, 0) radius 2
  line L0 (0, -2.8) -> (0, 2.8) construction
  line L1 (-2.8, 0) -> (2.8, 0) construction
  dimension "d10" = 4
properties part number "ToothedBeltWheel"
